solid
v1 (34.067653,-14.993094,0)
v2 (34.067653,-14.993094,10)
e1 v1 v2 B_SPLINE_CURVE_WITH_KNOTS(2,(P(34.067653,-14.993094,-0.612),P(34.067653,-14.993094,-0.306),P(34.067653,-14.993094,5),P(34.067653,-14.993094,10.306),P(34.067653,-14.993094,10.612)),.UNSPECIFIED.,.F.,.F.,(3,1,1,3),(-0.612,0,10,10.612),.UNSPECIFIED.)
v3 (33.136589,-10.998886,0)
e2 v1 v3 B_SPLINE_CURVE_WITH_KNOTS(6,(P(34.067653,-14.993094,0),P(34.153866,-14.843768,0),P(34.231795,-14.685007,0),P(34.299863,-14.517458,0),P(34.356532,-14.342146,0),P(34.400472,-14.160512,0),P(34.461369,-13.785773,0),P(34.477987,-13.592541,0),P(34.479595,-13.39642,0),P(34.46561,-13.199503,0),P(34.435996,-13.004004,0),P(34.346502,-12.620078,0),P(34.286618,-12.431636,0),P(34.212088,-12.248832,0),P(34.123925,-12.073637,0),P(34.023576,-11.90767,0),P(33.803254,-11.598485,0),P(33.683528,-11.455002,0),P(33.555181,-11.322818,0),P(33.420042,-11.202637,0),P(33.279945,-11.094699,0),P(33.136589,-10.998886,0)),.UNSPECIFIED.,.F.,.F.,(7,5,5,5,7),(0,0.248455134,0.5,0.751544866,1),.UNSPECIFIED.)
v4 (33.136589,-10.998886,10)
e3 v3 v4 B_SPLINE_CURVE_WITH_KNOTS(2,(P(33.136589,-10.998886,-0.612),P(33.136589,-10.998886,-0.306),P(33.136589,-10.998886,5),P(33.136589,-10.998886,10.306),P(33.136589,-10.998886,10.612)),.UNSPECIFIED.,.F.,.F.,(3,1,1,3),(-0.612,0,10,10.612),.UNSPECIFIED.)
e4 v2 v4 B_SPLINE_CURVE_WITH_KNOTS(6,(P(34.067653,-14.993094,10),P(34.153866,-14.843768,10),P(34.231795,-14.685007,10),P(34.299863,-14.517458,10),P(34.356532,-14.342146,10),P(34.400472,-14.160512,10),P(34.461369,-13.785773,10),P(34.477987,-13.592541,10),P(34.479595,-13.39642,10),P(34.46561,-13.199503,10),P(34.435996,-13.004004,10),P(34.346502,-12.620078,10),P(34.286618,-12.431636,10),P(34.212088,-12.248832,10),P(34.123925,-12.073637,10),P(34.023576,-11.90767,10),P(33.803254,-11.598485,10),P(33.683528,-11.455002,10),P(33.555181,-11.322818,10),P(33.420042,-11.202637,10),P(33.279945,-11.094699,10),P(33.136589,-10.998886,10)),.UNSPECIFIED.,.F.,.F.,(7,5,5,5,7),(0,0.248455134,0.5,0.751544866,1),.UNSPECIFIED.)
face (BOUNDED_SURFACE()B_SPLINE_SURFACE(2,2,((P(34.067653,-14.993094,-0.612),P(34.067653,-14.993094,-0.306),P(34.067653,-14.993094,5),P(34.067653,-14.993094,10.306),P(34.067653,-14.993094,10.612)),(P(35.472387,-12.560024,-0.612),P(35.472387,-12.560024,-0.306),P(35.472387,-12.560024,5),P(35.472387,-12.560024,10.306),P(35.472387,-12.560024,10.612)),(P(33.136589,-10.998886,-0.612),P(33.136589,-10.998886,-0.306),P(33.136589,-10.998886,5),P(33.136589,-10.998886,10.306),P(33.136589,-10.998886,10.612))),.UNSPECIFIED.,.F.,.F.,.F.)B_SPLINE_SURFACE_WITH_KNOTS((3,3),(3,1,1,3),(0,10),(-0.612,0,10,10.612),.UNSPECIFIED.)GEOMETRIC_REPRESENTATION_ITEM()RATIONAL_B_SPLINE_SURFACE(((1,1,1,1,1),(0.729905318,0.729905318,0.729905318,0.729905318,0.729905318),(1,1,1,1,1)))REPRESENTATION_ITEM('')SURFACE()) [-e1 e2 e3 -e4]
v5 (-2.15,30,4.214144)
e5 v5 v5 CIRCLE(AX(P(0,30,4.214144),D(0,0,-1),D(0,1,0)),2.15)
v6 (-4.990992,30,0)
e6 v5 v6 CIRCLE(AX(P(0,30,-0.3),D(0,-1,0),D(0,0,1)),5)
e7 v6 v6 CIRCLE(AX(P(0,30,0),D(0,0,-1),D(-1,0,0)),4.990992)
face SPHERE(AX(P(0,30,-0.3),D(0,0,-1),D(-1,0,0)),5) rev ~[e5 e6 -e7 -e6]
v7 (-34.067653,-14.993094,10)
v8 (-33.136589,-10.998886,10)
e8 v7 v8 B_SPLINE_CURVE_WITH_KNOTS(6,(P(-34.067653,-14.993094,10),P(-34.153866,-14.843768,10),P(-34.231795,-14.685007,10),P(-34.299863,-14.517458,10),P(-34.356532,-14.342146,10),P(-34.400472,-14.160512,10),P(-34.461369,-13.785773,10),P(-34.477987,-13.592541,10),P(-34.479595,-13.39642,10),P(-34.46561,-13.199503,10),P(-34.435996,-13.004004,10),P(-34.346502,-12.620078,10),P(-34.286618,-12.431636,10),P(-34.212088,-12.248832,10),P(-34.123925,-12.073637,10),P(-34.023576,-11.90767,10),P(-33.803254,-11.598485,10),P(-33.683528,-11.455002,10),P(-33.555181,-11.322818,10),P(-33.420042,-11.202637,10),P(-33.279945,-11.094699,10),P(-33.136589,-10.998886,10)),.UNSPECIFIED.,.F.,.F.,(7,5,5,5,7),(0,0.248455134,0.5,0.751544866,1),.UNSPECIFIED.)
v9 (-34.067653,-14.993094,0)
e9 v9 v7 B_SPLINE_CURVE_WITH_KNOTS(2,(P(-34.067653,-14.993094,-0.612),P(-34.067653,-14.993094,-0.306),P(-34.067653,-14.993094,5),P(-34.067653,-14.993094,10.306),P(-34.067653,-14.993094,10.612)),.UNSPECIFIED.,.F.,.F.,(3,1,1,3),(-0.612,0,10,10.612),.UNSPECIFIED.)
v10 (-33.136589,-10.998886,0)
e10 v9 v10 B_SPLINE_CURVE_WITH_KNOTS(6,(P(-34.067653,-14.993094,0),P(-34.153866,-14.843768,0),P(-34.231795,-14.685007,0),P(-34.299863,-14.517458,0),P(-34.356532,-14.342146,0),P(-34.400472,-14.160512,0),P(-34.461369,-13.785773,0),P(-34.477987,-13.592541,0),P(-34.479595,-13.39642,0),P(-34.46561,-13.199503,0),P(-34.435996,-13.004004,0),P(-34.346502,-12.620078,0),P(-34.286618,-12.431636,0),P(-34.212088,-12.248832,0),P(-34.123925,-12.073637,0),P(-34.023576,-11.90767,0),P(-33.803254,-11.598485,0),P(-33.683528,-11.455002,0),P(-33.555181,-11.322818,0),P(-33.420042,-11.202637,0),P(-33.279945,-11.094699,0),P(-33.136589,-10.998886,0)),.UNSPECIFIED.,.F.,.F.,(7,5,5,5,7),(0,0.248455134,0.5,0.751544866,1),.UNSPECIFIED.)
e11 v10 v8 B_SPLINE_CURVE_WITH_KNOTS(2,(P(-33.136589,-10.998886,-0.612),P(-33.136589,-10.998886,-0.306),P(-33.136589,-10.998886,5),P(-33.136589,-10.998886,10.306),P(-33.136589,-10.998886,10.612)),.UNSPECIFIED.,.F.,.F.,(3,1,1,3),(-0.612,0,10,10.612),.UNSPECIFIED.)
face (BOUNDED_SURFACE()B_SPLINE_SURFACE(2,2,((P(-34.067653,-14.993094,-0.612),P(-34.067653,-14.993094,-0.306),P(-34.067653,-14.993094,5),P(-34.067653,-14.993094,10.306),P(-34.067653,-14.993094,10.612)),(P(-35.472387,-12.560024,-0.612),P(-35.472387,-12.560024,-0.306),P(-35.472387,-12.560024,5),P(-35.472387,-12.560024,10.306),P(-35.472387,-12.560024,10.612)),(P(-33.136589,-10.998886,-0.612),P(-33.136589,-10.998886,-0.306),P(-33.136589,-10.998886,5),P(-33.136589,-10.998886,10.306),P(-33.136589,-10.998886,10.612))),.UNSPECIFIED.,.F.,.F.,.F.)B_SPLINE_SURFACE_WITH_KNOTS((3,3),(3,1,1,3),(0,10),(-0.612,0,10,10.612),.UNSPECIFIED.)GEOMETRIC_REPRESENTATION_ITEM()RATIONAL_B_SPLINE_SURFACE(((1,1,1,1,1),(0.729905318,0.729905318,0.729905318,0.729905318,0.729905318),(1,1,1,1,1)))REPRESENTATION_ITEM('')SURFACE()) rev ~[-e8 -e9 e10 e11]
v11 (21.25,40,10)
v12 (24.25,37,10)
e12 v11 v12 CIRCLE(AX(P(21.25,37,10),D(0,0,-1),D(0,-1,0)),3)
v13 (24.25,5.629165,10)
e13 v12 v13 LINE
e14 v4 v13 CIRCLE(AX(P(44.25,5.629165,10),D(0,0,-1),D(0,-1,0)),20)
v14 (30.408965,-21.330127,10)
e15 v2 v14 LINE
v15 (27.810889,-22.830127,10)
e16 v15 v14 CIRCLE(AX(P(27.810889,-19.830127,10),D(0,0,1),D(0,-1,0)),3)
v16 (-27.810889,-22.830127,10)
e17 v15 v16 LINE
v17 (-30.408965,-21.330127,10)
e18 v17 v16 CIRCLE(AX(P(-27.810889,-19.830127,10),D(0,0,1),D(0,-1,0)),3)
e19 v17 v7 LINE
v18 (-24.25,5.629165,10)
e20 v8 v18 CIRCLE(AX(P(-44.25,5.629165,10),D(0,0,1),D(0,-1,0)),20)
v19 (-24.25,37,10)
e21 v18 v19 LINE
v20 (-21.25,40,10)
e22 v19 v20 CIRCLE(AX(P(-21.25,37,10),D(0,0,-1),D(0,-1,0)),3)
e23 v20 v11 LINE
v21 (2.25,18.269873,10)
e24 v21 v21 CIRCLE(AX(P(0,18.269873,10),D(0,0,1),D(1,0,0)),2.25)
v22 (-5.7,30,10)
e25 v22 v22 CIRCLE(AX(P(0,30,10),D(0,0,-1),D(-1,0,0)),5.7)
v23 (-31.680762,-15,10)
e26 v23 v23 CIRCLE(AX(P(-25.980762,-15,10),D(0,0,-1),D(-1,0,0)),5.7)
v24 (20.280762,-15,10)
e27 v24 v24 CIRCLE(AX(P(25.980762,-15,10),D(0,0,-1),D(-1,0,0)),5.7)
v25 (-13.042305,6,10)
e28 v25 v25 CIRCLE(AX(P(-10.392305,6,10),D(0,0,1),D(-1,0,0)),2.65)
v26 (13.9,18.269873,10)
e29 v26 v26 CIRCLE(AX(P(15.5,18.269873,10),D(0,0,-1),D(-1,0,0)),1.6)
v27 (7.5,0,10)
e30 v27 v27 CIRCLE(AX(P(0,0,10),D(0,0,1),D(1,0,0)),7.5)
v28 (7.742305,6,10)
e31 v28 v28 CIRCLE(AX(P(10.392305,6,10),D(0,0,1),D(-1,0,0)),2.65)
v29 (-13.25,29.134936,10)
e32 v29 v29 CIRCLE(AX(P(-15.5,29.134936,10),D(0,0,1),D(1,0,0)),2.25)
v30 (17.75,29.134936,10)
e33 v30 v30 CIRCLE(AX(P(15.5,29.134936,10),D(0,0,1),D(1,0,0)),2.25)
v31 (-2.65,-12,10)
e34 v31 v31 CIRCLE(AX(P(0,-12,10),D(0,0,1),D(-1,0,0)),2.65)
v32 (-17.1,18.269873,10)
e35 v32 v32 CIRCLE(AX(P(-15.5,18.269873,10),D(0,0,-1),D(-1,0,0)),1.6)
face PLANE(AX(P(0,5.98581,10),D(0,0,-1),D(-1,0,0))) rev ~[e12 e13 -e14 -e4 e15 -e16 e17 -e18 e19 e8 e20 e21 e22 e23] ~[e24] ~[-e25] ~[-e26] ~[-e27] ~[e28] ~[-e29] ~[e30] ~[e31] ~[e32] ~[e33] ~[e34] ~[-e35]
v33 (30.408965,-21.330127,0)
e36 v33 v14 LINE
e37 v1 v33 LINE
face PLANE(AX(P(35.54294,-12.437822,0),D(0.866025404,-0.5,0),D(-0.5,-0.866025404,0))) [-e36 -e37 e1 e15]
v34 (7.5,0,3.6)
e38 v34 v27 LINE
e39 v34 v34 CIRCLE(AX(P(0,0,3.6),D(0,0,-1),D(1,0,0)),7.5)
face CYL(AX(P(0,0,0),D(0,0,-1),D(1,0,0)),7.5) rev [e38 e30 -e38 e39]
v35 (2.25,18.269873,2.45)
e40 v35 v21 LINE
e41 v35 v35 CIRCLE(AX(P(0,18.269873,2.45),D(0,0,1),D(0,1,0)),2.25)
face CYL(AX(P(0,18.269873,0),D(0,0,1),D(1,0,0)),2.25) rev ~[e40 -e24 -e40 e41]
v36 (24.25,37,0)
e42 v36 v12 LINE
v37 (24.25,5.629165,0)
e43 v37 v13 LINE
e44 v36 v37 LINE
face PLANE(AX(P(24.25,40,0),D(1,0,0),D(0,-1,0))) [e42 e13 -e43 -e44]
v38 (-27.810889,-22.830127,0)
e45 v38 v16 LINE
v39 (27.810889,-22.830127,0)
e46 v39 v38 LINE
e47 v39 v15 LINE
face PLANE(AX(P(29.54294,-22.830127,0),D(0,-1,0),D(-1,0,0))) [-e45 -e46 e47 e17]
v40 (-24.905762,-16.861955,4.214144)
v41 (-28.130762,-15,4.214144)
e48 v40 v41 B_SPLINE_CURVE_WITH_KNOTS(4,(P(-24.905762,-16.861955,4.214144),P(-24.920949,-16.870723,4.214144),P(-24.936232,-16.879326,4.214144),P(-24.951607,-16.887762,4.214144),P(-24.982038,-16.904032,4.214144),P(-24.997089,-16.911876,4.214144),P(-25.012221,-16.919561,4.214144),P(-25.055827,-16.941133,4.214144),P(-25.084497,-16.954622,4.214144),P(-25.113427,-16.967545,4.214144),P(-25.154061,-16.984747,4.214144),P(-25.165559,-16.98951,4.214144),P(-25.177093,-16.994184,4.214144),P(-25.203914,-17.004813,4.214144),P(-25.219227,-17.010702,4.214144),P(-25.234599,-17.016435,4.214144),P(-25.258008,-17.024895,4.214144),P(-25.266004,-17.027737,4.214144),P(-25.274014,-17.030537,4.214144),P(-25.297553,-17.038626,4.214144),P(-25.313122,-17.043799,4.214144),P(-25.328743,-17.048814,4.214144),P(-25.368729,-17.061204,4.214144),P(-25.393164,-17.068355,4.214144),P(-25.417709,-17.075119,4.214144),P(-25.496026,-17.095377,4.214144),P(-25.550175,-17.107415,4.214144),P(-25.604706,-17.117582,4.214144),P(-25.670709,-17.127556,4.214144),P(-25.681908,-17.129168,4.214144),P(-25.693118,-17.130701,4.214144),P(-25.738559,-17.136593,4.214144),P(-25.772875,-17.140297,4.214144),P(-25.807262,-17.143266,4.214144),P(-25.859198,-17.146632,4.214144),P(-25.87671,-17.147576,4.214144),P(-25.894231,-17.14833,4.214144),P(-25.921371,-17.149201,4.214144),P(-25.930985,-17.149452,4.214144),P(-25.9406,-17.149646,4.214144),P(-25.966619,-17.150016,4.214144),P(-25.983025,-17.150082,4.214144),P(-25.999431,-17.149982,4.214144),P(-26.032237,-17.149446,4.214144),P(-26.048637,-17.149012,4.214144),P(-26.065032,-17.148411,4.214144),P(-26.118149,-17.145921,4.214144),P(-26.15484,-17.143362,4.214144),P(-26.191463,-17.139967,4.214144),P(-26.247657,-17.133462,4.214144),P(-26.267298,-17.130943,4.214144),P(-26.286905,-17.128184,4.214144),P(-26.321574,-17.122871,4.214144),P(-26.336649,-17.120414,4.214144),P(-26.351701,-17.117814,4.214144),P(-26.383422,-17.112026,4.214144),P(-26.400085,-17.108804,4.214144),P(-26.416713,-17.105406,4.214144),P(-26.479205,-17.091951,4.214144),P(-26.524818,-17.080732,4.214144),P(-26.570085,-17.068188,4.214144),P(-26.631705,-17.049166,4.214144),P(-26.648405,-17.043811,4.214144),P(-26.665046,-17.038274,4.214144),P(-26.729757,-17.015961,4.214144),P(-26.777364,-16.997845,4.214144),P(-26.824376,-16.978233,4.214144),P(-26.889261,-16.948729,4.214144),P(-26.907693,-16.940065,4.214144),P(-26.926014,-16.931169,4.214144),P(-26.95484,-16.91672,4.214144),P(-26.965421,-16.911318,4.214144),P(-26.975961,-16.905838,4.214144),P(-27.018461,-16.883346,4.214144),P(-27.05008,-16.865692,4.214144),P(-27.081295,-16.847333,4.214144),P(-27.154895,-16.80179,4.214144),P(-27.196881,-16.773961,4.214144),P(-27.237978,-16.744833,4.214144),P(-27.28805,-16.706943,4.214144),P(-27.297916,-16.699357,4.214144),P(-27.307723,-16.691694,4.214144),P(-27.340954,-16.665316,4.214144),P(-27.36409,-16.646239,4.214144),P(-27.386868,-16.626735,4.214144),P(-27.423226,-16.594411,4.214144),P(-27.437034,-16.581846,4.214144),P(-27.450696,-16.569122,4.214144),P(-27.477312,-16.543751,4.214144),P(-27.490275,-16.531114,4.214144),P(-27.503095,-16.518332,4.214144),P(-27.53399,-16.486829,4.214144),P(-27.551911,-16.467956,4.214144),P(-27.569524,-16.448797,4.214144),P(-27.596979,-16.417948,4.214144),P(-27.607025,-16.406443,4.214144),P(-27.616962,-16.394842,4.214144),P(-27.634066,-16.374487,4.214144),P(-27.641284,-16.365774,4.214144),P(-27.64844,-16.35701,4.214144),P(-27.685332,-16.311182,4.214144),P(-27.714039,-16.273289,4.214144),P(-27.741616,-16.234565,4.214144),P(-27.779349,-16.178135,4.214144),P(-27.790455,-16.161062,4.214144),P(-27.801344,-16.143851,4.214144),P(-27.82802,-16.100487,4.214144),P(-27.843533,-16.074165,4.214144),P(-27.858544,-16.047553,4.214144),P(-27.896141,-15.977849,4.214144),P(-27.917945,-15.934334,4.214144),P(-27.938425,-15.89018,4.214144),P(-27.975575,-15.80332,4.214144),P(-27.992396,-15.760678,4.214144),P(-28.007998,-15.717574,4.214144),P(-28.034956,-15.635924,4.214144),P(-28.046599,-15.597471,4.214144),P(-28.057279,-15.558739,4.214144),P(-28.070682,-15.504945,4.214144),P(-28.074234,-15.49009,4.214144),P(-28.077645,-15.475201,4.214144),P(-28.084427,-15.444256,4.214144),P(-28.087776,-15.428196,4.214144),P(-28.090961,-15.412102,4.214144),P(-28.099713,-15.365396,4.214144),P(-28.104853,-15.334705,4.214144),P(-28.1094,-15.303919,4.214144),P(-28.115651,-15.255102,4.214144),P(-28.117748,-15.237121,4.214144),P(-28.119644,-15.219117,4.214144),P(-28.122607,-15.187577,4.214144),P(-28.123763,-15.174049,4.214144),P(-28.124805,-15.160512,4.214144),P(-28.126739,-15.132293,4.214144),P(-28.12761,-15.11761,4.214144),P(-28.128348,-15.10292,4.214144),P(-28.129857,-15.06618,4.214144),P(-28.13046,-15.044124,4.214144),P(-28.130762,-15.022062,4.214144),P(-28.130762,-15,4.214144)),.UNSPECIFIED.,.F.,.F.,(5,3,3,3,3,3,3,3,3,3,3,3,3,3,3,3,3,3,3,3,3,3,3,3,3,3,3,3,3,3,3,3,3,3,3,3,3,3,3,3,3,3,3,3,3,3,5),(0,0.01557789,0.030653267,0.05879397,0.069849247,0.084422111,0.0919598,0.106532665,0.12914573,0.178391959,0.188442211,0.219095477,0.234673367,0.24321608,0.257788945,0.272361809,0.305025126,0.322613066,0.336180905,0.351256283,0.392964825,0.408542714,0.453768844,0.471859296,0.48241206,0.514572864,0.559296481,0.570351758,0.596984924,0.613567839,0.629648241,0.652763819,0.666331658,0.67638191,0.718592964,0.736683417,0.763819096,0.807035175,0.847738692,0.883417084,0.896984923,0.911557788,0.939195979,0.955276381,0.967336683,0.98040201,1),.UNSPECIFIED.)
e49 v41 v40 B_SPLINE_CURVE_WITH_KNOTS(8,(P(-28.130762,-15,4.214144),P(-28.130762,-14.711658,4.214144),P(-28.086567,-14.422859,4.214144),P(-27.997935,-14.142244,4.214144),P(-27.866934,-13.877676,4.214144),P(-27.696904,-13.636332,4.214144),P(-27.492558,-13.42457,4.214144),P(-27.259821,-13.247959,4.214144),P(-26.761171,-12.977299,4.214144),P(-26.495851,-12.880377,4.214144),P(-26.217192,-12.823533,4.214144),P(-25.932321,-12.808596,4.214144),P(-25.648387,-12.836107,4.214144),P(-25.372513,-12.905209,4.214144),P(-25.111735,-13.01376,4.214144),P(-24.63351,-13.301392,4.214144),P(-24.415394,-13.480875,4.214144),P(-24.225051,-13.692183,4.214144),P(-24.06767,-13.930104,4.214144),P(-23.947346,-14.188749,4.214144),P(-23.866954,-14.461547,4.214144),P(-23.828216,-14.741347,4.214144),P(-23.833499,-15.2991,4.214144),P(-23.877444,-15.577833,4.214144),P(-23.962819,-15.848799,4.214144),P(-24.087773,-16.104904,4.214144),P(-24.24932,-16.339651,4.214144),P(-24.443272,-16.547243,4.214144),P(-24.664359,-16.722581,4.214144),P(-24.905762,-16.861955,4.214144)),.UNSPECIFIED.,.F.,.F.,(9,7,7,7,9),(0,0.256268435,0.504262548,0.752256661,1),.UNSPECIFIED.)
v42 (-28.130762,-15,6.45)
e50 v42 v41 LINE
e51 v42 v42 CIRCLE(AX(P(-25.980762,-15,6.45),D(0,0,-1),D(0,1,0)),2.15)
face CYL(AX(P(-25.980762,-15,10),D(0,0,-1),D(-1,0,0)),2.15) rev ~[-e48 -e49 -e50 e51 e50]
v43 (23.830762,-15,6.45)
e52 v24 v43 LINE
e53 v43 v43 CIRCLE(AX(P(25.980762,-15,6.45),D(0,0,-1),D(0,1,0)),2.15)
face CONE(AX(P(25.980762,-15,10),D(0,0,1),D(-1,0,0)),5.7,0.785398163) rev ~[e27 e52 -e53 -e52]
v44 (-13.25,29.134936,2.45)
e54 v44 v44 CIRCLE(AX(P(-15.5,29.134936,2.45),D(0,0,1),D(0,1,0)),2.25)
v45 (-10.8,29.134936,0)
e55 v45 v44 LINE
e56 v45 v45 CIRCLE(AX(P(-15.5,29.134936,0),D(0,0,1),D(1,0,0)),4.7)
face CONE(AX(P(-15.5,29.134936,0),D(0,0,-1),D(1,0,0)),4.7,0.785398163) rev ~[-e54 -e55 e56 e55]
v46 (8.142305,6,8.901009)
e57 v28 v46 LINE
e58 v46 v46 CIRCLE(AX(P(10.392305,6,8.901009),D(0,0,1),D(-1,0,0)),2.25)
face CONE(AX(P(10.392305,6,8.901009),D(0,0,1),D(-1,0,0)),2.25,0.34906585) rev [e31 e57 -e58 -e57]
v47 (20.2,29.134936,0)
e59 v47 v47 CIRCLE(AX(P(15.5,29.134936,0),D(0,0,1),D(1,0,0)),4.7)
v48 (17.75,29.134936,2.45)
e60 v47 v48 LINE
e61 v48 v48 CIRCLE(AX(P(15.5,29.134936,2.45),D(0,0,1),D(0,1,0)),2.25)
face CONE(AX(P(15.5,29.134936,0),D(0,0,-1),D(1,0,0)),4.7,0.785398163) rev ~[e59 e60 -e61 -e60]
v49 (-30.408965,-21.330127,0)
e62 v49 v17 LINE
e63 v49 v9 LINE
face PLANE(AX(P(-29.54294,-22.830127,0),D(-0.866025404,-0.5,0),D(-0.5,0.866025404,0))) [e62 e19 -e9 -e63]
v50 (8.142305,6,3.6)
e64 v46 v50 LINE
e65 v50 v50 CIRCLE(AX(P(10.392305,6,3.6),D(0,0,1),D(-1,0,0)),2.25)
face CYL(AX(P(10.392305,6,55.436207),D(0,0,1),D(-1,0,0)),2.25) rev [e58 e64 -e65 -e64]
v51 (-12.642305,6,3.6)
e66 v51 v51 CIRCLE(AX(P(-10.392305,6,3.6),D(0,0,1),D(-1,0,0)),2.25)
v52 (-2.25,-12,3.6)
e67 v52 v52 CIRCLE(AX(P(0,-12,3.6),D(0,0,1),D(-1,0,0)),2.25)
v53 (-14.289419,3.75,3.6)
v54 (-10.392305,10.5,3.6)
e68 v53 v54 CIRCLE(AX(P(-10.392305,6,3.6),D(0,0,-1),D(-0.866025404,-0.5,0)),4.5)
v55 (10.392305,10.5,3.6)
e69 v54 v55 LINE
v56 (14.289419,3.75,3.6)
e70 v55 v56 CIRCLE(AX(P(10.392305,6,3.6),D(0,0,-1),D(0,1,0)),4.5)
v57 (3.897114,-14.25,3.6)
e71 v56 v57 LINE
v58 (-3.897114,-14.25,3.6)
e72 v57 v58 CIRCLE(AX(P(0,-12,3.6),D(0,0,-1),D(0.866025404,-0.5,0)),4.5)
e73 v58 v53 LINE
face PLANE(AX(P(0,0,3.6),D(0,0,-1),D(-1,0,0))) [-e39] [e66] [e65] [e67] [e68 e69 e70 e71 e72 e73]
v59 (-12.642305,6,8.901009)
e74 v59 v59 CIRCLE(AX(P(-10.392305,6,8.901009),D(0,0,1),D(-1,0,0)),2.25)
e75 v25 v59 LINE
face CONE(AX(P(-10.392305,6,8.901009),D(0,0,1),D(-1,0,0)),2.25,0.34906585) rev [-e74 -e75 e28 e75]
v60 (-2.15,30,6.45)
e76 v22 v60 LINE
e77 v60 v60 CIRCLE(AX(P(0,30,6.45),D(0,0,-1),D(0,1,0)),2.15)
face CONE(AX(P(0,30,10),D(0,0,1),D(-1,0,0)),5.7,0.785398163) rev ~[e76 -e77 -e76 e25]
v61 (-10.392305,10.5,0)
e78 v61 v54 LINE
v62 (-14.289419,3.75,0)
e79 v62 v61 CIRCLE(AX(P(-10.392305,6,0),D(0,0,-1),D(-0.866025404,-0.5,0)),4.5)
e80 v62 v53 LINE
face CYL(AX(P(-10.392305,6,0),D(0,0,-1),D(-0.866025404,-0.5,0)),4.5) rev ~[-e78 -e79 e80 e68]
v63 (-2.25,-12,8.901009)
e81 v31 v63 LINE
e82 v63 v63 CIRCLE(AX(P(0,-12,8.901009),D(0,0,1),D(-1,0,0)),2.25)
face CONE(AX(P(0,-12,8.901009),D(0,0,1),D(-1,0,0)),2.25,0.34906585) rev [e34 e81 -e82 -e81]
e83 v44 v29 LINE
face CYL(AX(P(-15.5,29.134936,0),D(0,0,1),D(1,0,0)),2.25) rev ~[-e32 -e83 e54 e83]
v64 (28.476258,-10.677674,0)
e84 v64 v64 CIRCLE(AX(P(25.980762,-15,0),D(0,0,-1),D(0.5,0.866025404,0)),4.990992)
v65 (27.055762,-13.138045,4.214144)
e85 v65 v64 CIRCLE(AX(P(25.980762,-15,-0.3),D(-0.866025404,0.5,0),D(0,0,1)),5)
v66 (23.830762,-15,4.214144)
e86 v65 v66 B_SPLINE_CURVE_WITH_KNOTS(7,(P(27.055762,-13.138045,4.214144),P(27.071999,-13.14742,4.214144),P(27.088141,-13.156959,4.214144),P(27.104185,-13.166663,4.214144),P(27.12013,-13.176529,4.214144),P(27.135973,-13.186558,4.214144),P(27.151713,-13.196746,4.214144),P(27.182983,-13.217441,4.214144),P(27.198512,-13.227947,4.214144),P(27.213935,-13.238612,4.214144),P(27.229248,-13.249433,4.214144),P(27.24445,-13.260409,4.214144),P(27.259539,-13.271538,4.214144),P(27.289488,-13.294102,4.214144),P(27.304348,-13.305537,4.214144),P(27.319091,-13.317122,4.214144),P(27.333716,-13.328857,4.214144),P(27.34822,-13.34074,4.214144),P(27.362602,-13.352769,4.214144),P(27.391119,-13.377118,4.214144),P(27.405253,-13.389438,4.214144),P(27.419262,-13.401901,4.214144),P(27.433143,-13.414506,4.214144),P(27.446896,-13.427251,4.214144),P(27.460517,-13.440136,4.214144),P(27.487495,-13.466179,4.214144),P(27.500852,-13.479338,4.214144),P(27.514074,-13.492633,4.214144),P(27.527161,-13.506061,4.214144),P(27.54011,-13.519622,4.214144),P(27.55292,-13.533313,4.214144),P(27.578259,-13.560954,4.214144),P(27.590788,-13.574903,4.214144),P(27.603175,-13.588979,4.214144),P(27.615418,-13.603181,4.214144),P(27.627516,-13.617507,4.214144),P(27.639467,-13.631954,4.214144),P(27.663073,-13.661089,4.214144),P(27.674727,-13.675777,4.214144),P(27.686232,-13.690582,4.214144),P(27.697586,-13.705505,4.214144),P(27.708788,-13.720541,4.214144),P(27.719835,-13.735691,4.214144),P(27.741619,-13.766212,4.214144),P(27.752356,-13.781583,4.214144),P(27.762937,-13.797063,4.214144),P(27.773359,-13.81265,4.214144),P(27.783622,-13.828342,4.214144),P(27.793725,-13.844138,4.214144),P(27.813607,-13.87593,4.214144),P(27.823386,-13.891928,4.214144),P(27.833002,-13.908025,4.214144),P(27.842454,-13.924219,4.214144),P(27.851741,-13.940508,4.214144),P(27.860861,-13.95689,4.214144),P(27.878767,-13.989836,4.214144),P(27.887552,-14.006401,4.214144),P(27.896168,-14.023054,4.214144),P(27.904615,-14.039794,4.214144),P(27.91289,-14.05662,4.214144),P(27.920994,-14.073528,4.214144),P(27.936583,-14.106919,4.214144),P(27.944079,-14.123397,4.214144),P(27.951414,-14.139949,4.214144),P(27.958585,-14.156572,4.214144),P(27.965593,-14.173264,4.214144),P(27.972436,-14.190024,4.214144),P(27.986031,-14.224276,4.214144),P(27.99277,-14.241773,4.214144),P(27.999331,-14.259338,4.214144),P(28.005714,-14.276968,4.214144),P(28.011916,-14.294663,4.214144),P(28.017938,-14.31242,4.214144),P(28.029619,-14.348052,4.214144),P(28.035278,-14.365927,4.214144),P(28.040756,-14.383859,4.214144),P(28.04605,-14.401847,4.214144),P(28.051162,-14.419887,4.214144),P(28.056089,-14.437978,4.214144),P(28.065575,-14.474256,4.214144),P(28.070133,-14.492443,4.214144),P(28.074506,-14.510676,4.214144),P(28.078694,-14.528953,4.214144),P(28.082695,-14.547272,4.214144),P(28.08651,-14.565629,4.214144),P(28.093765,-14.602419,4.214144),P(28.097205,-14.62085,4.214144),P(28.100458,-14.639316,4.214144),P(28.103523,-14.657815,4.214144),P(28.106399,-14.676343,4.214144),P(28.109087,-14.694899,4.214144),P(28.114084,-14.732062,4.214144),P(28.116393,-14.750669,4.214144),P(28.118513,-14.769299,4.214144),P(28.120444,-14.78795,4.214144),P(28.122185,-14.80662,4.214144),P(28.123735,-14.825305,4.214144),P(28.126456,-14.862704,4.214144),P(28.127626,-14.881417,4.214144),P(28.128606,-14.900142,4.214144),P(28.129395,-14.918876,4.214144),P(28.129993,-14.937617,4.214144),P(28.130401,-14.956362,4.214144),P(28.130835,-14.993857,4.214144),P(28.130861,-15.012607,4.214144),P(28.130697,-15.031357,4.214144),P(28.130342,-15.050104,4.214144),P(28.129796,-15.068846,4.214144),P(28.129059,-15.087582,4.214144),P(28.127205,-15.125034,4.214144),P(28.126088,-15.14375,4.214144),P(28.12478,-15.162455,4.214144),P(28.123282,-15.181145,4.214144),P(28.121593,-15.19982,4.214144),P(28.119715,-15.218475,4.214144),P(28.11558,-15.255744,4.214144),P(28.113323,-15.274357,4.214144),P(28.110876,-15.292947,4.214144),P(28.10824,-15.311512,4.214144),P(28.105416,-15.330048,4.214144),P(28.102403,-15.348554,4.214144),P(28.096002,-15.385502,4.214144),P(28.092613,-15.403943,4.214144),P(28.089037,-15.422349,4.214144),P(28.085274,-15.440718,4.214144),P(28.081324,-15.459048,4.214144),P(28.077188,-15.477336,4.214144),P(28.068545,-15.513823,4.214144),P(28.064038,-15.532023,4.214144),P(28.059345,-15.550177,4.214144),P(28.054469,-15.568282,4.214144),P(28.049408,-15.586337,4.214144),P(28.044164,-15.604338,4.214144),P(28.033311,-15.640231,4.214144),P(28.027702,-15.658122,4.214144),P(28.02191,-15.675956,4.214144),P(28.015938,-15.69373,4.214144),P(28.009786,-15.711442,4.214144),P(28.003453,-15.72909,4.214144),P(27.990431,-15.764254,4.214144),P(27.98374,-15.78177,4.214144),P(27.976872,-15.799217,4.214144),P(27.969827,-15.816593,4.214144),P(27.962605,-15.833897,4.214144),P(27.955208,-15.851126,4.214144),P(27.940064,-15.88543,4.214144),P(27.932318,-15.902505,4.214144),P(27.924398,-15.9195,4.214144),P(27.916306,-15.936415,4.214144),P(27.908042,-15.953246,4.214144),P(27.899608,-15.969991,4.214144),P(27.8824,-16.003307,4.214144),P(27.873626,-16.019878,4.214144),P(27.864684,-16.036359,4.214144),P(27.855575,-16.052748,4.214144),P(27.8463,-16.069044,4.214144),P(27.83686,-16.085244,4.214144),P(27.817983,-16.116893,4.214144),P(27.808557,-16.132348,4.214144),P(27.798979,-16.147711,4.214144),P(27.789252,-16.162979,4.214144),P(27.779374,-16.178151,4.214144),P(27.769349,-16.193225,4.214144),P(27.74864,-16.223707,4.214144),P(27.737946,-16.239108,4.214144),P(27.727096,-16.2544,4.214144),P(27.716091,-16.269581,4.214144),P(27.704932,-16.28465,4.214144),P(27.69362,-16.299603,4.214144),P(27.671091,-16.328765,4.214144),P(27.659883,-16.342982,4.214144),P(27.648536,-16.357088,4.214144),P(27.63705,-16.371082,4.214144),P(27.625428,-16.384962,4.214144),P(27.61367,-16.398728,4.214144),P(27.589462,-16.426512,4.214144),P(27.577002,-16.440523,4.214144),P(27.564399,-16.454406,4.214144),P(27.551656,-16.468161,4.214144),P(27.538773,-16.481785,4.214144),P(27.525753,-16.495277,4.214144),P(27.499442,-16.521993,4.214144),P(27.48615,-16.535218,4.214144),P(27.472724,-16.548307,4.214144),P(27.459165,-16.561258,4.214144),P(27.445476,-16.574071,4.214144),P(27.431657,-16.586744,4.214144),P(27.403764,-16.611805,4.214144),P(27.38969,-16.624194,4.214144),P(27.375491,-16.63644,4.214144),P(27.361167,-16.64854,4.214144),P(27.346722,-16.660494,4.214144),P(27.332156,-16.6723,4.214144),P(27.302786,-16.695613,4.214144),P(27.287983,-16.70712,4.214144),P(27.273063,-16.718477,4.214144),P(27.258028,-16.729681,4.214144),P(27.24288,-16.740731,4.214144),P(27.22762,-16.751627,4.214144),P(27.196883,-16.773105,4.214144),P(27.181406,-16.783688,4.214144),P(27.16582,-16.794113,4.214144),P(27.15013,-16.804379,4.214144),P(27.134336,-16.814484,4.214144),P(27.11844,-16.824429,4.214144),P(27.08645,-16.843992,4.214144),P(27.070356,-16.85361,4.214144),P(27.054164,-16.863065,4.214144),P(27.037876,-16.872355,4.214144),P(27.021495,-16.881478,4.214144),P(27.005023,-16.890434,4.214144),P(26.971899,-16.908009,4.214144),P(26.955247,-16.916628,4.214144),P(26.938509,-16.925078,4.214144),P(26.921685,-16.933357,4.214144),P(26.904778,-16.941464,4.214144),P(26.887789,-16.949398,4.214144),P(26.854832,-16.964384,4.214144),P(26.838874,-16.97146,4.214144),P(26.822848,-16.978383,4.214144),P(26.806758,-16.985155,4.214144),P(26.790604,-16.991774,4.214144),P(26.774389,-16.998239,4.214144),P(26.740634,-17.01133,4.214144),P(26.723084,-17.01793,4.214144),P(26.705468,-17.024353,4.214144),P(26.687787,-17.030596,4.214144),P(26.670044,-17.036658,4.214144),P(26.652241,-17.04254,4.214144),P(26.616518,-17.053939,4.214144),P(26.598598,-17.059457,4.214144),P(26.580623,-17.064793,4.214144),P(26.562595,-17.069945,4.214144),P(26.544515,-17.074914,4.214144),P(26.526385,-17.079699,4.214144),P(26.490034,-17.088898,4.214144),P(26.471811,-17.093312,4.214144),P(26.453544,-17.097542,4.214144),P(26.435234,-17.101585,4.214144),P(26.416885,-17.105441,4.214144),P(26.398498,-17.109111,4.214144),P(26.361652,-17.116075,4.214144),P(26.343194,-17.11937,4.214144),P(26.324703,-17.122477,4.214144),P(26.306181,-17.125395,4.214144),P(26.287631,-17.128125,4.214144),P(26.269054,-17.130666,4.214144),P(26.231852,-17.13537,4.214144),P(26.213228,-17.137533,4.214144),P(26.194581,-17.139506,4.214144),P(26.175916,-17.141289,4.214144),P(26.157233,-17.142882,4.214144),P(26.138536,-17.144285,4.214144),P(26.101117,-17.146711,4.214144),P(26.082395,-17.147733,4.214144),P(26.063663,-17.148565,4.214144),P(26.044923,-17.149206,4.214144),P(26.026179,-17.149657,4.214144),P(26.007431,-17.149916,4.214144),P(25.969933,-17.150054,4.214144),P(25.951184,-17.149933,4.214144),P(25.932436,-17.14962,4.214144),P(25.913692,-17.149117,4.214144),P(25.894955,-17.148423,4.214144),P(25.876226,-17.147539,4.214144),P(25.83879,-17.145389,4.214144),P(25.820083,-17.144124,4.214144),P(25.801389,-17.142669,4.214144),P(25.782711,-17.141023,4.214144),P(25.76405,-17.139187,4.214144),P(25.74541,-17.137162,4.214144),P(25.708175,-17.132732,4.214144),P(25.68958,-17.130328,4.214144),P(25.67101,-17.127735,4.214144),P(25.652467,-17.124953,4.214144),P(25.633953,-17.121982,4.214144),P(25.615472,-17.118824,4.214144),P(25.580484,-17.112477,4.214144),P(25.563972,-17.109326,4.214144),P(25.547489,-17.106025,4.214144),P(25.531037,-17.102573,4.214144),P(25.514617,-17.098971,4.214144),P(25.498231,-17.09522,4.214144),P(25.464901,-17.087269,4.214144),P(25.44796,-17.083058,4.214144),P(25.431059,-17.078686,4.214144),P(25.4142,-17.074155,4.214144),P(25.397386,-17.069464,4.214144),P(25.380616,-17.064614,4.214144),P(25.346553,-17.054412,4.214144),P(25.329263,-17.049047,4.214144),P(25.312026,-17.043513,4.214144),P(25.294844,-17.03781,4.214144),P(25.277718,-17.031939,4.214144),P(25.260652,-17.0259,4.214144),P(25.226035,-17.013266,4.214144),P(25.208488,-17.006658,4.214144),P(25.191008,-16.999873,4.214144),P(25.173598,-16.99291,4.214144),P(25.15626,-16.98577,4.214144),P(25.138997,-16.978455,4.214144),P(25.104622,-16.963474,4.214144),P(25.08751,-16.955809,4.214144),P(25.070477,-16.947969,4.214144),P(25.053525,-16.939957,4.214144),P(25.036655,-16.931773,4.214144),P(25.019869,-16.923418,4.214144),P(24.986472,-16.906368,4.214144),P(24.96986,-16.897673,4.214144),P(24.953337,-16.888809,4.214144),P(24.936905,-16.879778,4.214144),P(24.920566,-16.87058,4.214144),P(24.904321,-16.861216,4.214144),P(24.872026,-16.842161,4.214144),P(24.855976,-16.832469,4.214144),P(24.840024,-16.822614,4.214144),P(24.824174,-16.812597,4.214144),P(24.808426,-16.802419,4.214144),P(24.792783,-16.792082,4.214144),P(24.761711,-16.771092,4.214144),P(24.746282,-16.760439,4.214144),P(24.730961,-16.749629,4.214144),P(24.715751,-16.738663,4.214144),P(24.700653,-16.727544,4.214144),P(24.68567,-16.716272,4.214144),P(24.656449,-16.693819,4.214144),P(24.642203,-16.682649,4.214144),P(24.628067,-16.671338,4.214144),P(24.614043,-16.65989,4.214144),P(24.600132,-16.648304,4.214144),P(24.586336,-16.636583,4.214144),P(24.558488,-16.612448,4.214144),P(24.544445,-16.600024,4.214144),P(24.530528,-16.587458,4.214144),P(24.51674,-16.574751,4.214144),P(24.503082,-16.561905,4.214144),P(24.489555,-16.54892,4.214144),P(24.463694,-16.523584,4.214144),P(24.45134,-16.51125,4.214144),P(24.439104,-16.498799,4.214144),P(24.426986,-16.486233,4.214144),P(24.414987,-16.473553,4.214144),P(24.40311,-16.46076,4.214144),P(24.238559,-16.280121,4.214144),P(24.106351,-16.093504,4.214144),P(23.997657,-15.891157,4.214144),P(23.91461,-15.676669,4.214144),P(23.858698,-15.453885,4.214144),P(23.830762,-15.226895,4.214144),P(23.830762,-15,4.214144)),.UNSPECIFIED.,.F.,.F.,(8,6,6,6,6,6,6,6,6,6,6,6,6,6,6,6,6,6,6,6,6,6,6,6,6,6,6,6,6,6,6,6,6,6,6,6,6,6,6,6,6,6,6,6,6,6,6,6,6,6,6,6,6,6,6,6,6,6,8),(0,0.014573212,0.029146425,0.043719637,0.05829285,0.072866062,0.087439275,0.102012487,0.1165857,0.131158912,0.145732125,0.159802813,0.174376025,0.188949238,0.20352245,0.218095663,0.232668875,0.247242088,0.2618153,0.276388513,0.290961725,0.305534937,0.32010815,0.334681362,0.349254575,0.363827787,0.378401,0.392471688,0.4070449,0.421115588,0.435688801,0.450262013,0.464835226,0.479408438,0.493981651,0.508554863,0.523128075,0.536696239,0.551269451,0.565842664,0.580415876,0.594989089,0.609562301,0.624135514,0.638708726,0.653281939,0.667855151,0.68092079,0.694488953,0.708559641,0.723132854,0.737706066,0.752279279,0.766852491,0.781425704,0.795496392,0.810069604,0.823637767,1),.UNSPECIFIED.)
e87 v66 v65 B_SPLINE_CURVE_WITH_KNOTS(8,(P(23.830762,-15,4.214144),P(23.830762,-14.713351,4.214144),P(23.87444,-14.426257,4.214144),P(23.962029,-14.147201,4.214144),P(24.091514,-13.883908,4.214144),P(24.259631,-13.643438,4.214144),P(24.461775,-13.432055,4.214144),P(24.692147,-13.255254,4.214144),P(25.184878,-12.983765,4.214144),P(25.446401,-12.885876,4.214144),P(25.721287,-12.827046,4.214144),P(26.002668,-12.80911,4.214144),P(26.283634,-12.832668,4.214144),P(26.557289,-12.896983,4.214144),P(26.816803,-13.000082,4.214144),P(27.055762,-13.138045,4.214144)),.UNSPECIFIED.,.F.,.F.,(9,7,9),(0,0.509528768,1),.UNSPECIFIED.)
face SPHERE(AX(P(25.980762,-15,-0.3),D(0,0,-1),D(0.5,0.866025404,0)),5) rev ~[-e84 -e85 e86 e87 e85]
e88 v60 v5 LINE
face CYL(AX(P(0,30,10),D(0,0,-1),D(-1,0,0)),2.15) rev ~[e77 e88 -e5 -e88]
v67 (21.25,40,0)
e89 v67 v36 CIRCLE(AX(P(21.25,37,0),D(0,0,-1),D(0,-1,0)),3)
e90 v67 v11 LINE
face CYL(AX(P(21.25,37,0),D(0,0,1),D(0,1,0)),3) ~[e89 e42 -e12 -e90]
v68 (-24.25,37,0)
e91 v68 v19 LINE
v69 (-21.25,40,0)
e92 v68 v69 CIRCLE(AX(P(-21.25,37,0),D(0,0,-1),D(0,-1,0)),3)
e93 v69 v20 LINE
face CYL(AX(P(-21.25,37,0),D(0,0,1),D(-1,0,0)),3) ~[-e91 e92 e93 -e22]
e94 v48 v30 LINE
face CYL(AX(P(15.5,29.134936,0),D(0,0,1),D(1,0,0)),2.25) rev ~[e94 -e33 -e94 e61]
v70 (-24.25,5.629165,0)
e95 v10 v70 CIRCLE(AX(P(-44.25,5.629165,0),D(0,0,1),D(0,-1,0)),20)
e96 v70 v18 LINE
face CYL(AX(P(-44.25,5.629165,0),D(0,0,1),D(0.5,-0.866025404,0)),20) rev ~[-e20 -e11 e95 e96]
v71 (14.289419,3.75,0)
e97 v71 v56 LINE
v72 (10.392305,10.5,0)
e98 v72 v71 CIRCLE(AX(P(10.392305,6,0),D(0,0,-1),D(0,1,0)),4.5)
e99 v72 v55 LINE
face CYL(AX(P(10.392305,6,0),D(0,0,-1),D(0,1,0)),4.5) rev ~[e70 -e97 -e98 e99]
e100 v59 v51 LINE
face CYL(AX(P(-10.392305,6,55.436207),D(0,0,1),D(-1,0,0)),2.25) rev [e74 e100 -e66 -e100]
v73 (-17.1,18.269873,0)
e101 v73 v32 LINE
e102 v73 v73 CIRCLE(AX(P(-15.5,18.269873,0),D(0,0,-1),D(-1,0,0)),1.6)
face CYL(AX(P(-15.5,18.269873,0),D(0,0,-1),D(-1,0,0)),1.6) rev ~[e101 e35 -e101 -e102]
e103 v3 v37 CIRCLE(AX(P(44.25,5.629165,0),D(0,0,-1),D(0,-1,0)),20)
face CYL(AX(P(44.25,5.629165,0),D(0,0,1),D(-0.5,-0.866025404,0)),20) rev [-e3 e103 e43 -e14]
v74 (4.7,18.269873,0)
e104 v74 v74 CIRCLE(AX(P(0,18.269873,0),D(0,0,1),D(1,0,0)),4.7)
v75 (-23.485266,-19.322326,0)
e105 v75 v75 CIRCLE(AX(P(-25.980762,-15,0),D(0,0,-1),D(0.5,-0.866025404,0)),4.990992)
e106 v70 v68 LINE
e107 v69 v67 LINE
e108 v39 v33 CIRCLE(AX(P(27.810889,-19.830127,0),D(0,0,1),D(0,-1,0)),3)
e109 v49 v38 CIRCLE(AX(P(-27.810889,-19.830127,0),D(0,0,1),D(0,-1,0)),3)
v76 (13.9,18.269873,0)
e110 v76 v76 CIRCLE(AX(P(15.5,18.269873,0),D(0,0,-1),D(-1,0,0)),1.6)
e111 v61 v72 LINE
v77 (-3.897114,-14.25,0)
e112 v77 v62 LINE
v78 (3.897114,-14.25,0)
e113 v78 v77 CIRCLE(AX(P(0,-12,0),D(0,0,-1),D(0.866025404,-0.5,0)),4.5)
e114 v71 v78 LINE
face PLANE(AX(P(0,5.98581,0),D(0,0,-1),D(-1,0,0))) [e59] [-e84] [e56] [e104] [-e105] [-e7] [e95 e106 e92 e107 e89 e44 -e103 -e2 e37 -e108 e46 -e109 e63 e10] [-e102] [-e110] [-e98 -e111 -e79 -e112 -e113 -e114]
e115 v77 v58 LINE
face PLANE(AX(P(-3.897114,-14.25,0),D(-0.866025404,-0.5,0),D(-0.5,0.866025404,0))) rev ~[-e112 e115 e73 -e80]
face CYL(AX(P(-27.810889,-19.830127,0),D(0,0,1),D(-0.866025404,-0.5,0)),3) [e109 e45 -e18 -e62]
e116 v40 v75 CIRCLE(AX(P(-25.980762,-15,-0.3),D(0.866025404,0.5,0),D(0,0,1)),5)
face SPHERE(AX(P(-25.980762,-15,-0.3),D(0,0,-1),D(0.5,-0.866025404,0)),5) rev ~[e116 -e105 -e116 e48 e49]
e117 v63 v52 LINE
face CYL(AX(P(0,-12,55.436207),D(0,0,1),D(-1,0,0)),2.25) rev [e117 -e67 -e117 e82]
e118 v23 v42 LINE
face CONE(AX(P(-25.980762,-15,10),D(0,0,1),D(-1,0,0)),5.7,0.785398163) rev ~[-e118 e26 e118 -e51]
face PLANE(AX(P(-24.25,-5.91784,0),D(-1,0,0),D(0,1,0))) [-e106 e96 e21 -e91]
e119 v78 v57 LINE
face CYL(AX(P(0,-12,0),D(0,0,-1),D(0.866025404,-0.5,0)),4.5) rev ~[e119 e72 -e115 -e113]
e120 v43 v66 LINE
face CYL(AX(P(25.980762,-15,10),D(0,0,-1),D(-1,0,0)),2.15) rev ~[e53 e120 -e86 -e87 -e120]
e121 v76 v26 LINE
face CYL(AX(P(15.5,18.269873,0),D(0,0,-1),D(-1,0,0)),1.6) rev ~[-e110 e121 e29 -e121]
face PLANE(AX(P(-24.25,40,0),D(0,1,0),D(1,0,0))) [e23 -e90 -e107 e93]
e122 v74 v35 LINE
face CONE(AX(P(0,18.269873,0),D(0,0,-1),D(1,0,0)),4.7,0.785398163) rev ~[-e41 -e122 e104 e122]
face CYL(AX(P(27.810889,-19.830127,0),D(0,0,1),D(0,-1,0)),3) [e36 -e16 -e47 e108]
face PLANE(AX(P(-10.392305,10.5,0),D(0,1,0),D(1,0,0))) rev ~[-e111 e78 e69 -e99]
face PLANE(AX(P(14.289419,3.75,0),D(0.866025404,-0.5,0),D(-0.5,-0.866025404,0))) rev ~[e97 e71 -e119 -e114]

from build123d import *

# Parameters (mm, degrees)
SKETCH2_R                                       = 7.5
BOSS_EXTRUDE1_DEPTH                             = 10
CSK_FOR_M4_FLAT_HEAD_MACHINE_SCREW1_D           = 4.3
CSK_FOR_M4_FLAT_HEAD_MACHINE_SCREW1_CSINK_D     = 11.4
CSK_FOR_M4_FLAT_HEAD_MACHINE_SCREW1_CSINK_ANGLE = 90
FILLET1_R                                       = 20
V_GROOVE_CUTOUT_DEPTH                           = 3.6
STANDARD_TAPERED_INSERT_CUTOUT_DEPTH            = 55.436206513
STANDARD_TAPERED_INSERT_CUTOUT_DEPTH_BACK       = 55.436206513
SKETCH13_R                                      = 2.25
TAPER_FOR_INSERTS_SIZE                          = 0.4
TAPER_FOR_INSERTS_SIZE2                         = 1.098990968
MOVE_FACE1_BY                                   = 0.5
MOVE_FACE1_2_BY                                 = 0.5
MOVE_FACE1_3_BY                                 = 0.5
MOVE_FACE1_4_BY                                 = 0.5
MOVE_FACE1_5_BY                                 = 0.5
MOVE_FACE1_6_BY                                 = 0.5
CIRPATTERN2_COUNT                               = 3
SKETCH47_R                                      = 1.6
CUT_EXTRUDE1_DEPTH                              = 55.436206513
CSK_FOR_M4_FLAT_HEAD_MACHINE_SCREW2_D           = 4.5
CSK_FOR_M4_FLAT_HEAD_MACHINE_SCREW2_DEPTH       = 10.1
CSK_FOR_M4_FLAT_HEAD_MACHINE_SCREW2_CSINK_D     = 9.4
CSK_FOR_M4_FLAT_HEAD_MACHINE_SCREW2_CSINK_ANGLE = 90
CSK_FOR_M4_FLAT_HEAD_MACHINE_SCREW2_TIP         = 1.351936393
FILLET2_R                                       = 3


with BuildPart() as part:
    # Sketch2 → Boss-Extrude1 (new body)
    with BuildSketch(Plane.XY):
        Polygon((-24.25, 40), (24.25, 40), (24.25, -5.917840259), (35.54293994, -12.437822174), (29.54293994, -22.830127019), (-29.54293994, -22.830127019), (-35.54293994, -12.437822174), (-24.25, -5.917840259), align=None)
        Circle(SKETCH2_R, mode=Mode.SUBTRACT)
    extrude(amount=BOSS_EXTRUDE1_DEPTH)

    # CSK for M4 Flat Head Machine Screw1 (through all)
    with Locations(Plane.XY.offset(10)):
        with Locations((-25.980762114, -15), (0, 30), (25.980762114, -15)):
            CounterSinkHole(CSK_FOR_M4_FLAT_HEAD_MACHINE_SCREW1_D / 2, CSK_FOR_M4_FLAT_HEAD_MACHINE_SCREW1_CSINK_D / 2, counter_sink_angle=CSK_FOR_M4_FLAT_HEAD_MACHINE_SCREW1_CSINK_ANGLE)

    # Fillet1
    fillet1_edges = [part.edges().sort_by_distance(p)[0] for p in [
        (24.25, -5.917840259, 5),
        (-24.25, -5.917840259, 5),
    ]]
    fillet(fillet1_edges, radius=FILLET1_R)

    # Sketch44 → v-groove cutout (cut)
    with BuildSketch(Plane(origin=(0, 0, 0), x_dir=(-1, 0, 0), z_dir=(0, 0, -1))):
        with BuildLine():
            Line((10.392304845, 10), (-10.392304845, 10))
            ThreePointArc((-10.392304845, 10), (-13.856406461, 8), (-13.856406461, 4))
            Line((-13.856406461, 4), (-3.464101615, -14))
            ThreePointArc((-3.464101615, -14), (0, -16), (3.464101615, -14))
            Line((3.464101615, -14), (13.856406461, 4))
            ThreePointArc((13.856406461, 4), (13.856406461, 8), (10.392304845, 10))
        make_face()
    extrude(amount=-V_GROOVE_CUTOUT_DEPTH, mode=Mode.SUBTRACT)

    # Sketch13 → standard tapered insert cutout (cut, two sides: drawn at the far end of the back side and taken through both)
    with BuildSketch(Plane(origin=(0, 0, 0), x_dir=(-1, 0, 0), z_dir=(0, 0, -1)).offset(-STANDARD_TAPERED_INSERT_CUTOUT_DEPTH_BACK)):
        with Locations((-10.392304845, 6)):
            Circle(SKETCH13_R)
        with Locations((10.392304845, 6)):
            Circle(SKETCH13_R)
        with Locations((0, -12)):
            Circle(SKETCH13_R)
    extrude(amount=STANDARD_TAPERED_INSERT_CUTOUT_DEPTH + STANDARD_TAPERED_INSERT_CUTOUT_DEPTH_BACK, mode=Mode.SUBTRACT)

    # taper for inserts
    taper_for_inserts_edges = [part.edges().sort_by_distance(p)[0] for p in [
        (12.642304845, 6, 10),
        (-8.142304845, 6, 10),
        (2.25, -12, 10),
    ]]
    taper_for_inserts_side = [part.faces().sort_by_distance(p)[0] for p in [
        (0, 7.937962268, 10),
    ]]
    chamfer(taper_for_inserts_edges, length=TAPER_FOR_INSERTS_SIZE, length2=TAPER_FOR_INSERTS_SIZE2, reference=taper_for_inserts_side[0])

    # Move Face1: a face moved inward by 0.5
    extrude(part.faces().sort_by_distance((-8.660254038, -5, 1.8))[0], amount=MOVE_FACE1_BY, dir=(-0.866025404, -0.5, 0), mode=Mode.SUBTRACT)

    # Move Face1 2: a curved face moved inward by 0.5
    add(Solid.thicken(part.faces().sort_by_distance((0, -16, 1.8))[0], -MOVE_FACE1_2_BY), mode=Mode.SUBTRACT)

    # Move Face1 3: a face moved inward by 0.5
    extrude(part.faces().sort_by_distance((8.660254038, -5, 1.8))[0], amount=MOVE_FACE1_3_BY, dir=(0.866025404, -0.5, 0), mode=Mode.SUBTRACT)

    # Move Face1 4: a curved face moved inward by 0.5
    add(Solid.thicken(part.faces().sort_by_distance((13.856406461, 8, 1.8))[0], -MOVE_FACE1_4_BY), mode=Mode.SUBTRACT)

    # Move Face1 5: a curved face moved inward by 0.5
    add(Solid.thicken(part.faces().sort_by_distance((-13.856406461, 8, 1.8))[0], -MOVE_FACE1_5_BY), mode=Mode.SUBTRACT)

    # Move Face1 6: a face moved inward by 0.5
    extrude(part.faces().sort_by_distance((0, 10, 1.8))[0], amount=MOVE_FACE1_6_BY, dir=(0, 1, 0), mode=Mode.SUBTRACT)

    # Sketch46 → tool ball cutout (revolve, cut)
    with BuildSketch(Plane(origin=(0, 30, 0), x_dir=(1, 0, 0), z_dir=(0, 1, 0))):
        with BuildLine():
            Line((0, 5.3), (0, -4.7))
            ThreePointArc((0, -4.7), (-5, 0.3), (0, 5.3))
        make_face()
    tool_ball_cutout = revolve(axis=Axis((0, 30, 0), (0, 0, -1)), mode=Mode.SUBTRACT)

    # CirPattern2: tool ball cutout ×3 about axis
    cirpattern2_axis = Axis((0, 0, 0), (0, 0, 1))
    for i in range(1, CIRPATTERN2_COUNT):
        add(tool_ball_cutout.rotate(cirpattern2_axis, i * 360 / CIRPATTERN2_COUNT), mode=Mode.SUBTRACT)

    # Sketch47 → Cut-Extrude1 (cut, through all)
    with BuildSketch(Plane(origin=(0, 0, 0), x_dir=(-1, 0, 0), z_dir=(0, 0, -1))):
        with Locations((-15.5, 18.269872981)):
            Circle(SKETCH47_R)
        with Locations((15.5, 18.269872981)):
            Circle(SKETCH47_R)
    extrude(amount=-CUT_EXTRUDE1_DEPTH, mode=Mode.SUBTRACT)

    # CSK for M4 Flat Head Machine Screw2
    with Locations(Plane(origin=(0, 0, 0), x_dir=(-1, 0, 0), z_dir=(0, 0, -1))):
        with Locations((-15.5, 29.134936491), (0, 18.269872981), (15.5, 29.134936491)):
            CounterSinkHole(CSK_FOR_M4_FLAT_HEAD_MACHINE_SCREW2_D / 2, CSK_FOR_M4_FLAT_HEAD_MACHINE_SCREW2_CSINK_D / 2, depth=CSK_FOR_M4_FLAT_HEAD_MACHINE_SCREW2_DEPTH, counter_sink_angle=CSK_FOR_M4_FLAT_HEAD_MACHINE_SCREW2_CSINK_ANGLE)
            with Locations((0, 0, -(CSK_FOR_M4_FLAT_HEAD_MACHINE_SCREW2_DEPTH + CSK_FOR_M4_FLAT_HEAD_MACHINE_SCREW2_TIP / 2))):  # 118° drill point
                Cone(0, CSK_FOR_M4_FLAT_HEAD_MACHINE_SCREW2_D / 2, CSK_FOR_M4_FLAT_HEAD_MACHINE_SCREW2_TIP, mode=Mode.SUBTRACT)

    # Fillet2
    fillet2_edges = [part.edges().sort_by_distance(p)[0] for p in [
        (24.25, 40, 5),
        (-24.25, 40, 5),
        (-29.54293994, -22.830127019, 5),
        (-35.54293994, -12.437822174, 5),
        (29.54293994, -22.830127019, 5),
        (35.54293994, -12.437822174, 5),
    ]]
    fillet(fillet2_edges, radius=FILLET2_R)


solid = part.part
